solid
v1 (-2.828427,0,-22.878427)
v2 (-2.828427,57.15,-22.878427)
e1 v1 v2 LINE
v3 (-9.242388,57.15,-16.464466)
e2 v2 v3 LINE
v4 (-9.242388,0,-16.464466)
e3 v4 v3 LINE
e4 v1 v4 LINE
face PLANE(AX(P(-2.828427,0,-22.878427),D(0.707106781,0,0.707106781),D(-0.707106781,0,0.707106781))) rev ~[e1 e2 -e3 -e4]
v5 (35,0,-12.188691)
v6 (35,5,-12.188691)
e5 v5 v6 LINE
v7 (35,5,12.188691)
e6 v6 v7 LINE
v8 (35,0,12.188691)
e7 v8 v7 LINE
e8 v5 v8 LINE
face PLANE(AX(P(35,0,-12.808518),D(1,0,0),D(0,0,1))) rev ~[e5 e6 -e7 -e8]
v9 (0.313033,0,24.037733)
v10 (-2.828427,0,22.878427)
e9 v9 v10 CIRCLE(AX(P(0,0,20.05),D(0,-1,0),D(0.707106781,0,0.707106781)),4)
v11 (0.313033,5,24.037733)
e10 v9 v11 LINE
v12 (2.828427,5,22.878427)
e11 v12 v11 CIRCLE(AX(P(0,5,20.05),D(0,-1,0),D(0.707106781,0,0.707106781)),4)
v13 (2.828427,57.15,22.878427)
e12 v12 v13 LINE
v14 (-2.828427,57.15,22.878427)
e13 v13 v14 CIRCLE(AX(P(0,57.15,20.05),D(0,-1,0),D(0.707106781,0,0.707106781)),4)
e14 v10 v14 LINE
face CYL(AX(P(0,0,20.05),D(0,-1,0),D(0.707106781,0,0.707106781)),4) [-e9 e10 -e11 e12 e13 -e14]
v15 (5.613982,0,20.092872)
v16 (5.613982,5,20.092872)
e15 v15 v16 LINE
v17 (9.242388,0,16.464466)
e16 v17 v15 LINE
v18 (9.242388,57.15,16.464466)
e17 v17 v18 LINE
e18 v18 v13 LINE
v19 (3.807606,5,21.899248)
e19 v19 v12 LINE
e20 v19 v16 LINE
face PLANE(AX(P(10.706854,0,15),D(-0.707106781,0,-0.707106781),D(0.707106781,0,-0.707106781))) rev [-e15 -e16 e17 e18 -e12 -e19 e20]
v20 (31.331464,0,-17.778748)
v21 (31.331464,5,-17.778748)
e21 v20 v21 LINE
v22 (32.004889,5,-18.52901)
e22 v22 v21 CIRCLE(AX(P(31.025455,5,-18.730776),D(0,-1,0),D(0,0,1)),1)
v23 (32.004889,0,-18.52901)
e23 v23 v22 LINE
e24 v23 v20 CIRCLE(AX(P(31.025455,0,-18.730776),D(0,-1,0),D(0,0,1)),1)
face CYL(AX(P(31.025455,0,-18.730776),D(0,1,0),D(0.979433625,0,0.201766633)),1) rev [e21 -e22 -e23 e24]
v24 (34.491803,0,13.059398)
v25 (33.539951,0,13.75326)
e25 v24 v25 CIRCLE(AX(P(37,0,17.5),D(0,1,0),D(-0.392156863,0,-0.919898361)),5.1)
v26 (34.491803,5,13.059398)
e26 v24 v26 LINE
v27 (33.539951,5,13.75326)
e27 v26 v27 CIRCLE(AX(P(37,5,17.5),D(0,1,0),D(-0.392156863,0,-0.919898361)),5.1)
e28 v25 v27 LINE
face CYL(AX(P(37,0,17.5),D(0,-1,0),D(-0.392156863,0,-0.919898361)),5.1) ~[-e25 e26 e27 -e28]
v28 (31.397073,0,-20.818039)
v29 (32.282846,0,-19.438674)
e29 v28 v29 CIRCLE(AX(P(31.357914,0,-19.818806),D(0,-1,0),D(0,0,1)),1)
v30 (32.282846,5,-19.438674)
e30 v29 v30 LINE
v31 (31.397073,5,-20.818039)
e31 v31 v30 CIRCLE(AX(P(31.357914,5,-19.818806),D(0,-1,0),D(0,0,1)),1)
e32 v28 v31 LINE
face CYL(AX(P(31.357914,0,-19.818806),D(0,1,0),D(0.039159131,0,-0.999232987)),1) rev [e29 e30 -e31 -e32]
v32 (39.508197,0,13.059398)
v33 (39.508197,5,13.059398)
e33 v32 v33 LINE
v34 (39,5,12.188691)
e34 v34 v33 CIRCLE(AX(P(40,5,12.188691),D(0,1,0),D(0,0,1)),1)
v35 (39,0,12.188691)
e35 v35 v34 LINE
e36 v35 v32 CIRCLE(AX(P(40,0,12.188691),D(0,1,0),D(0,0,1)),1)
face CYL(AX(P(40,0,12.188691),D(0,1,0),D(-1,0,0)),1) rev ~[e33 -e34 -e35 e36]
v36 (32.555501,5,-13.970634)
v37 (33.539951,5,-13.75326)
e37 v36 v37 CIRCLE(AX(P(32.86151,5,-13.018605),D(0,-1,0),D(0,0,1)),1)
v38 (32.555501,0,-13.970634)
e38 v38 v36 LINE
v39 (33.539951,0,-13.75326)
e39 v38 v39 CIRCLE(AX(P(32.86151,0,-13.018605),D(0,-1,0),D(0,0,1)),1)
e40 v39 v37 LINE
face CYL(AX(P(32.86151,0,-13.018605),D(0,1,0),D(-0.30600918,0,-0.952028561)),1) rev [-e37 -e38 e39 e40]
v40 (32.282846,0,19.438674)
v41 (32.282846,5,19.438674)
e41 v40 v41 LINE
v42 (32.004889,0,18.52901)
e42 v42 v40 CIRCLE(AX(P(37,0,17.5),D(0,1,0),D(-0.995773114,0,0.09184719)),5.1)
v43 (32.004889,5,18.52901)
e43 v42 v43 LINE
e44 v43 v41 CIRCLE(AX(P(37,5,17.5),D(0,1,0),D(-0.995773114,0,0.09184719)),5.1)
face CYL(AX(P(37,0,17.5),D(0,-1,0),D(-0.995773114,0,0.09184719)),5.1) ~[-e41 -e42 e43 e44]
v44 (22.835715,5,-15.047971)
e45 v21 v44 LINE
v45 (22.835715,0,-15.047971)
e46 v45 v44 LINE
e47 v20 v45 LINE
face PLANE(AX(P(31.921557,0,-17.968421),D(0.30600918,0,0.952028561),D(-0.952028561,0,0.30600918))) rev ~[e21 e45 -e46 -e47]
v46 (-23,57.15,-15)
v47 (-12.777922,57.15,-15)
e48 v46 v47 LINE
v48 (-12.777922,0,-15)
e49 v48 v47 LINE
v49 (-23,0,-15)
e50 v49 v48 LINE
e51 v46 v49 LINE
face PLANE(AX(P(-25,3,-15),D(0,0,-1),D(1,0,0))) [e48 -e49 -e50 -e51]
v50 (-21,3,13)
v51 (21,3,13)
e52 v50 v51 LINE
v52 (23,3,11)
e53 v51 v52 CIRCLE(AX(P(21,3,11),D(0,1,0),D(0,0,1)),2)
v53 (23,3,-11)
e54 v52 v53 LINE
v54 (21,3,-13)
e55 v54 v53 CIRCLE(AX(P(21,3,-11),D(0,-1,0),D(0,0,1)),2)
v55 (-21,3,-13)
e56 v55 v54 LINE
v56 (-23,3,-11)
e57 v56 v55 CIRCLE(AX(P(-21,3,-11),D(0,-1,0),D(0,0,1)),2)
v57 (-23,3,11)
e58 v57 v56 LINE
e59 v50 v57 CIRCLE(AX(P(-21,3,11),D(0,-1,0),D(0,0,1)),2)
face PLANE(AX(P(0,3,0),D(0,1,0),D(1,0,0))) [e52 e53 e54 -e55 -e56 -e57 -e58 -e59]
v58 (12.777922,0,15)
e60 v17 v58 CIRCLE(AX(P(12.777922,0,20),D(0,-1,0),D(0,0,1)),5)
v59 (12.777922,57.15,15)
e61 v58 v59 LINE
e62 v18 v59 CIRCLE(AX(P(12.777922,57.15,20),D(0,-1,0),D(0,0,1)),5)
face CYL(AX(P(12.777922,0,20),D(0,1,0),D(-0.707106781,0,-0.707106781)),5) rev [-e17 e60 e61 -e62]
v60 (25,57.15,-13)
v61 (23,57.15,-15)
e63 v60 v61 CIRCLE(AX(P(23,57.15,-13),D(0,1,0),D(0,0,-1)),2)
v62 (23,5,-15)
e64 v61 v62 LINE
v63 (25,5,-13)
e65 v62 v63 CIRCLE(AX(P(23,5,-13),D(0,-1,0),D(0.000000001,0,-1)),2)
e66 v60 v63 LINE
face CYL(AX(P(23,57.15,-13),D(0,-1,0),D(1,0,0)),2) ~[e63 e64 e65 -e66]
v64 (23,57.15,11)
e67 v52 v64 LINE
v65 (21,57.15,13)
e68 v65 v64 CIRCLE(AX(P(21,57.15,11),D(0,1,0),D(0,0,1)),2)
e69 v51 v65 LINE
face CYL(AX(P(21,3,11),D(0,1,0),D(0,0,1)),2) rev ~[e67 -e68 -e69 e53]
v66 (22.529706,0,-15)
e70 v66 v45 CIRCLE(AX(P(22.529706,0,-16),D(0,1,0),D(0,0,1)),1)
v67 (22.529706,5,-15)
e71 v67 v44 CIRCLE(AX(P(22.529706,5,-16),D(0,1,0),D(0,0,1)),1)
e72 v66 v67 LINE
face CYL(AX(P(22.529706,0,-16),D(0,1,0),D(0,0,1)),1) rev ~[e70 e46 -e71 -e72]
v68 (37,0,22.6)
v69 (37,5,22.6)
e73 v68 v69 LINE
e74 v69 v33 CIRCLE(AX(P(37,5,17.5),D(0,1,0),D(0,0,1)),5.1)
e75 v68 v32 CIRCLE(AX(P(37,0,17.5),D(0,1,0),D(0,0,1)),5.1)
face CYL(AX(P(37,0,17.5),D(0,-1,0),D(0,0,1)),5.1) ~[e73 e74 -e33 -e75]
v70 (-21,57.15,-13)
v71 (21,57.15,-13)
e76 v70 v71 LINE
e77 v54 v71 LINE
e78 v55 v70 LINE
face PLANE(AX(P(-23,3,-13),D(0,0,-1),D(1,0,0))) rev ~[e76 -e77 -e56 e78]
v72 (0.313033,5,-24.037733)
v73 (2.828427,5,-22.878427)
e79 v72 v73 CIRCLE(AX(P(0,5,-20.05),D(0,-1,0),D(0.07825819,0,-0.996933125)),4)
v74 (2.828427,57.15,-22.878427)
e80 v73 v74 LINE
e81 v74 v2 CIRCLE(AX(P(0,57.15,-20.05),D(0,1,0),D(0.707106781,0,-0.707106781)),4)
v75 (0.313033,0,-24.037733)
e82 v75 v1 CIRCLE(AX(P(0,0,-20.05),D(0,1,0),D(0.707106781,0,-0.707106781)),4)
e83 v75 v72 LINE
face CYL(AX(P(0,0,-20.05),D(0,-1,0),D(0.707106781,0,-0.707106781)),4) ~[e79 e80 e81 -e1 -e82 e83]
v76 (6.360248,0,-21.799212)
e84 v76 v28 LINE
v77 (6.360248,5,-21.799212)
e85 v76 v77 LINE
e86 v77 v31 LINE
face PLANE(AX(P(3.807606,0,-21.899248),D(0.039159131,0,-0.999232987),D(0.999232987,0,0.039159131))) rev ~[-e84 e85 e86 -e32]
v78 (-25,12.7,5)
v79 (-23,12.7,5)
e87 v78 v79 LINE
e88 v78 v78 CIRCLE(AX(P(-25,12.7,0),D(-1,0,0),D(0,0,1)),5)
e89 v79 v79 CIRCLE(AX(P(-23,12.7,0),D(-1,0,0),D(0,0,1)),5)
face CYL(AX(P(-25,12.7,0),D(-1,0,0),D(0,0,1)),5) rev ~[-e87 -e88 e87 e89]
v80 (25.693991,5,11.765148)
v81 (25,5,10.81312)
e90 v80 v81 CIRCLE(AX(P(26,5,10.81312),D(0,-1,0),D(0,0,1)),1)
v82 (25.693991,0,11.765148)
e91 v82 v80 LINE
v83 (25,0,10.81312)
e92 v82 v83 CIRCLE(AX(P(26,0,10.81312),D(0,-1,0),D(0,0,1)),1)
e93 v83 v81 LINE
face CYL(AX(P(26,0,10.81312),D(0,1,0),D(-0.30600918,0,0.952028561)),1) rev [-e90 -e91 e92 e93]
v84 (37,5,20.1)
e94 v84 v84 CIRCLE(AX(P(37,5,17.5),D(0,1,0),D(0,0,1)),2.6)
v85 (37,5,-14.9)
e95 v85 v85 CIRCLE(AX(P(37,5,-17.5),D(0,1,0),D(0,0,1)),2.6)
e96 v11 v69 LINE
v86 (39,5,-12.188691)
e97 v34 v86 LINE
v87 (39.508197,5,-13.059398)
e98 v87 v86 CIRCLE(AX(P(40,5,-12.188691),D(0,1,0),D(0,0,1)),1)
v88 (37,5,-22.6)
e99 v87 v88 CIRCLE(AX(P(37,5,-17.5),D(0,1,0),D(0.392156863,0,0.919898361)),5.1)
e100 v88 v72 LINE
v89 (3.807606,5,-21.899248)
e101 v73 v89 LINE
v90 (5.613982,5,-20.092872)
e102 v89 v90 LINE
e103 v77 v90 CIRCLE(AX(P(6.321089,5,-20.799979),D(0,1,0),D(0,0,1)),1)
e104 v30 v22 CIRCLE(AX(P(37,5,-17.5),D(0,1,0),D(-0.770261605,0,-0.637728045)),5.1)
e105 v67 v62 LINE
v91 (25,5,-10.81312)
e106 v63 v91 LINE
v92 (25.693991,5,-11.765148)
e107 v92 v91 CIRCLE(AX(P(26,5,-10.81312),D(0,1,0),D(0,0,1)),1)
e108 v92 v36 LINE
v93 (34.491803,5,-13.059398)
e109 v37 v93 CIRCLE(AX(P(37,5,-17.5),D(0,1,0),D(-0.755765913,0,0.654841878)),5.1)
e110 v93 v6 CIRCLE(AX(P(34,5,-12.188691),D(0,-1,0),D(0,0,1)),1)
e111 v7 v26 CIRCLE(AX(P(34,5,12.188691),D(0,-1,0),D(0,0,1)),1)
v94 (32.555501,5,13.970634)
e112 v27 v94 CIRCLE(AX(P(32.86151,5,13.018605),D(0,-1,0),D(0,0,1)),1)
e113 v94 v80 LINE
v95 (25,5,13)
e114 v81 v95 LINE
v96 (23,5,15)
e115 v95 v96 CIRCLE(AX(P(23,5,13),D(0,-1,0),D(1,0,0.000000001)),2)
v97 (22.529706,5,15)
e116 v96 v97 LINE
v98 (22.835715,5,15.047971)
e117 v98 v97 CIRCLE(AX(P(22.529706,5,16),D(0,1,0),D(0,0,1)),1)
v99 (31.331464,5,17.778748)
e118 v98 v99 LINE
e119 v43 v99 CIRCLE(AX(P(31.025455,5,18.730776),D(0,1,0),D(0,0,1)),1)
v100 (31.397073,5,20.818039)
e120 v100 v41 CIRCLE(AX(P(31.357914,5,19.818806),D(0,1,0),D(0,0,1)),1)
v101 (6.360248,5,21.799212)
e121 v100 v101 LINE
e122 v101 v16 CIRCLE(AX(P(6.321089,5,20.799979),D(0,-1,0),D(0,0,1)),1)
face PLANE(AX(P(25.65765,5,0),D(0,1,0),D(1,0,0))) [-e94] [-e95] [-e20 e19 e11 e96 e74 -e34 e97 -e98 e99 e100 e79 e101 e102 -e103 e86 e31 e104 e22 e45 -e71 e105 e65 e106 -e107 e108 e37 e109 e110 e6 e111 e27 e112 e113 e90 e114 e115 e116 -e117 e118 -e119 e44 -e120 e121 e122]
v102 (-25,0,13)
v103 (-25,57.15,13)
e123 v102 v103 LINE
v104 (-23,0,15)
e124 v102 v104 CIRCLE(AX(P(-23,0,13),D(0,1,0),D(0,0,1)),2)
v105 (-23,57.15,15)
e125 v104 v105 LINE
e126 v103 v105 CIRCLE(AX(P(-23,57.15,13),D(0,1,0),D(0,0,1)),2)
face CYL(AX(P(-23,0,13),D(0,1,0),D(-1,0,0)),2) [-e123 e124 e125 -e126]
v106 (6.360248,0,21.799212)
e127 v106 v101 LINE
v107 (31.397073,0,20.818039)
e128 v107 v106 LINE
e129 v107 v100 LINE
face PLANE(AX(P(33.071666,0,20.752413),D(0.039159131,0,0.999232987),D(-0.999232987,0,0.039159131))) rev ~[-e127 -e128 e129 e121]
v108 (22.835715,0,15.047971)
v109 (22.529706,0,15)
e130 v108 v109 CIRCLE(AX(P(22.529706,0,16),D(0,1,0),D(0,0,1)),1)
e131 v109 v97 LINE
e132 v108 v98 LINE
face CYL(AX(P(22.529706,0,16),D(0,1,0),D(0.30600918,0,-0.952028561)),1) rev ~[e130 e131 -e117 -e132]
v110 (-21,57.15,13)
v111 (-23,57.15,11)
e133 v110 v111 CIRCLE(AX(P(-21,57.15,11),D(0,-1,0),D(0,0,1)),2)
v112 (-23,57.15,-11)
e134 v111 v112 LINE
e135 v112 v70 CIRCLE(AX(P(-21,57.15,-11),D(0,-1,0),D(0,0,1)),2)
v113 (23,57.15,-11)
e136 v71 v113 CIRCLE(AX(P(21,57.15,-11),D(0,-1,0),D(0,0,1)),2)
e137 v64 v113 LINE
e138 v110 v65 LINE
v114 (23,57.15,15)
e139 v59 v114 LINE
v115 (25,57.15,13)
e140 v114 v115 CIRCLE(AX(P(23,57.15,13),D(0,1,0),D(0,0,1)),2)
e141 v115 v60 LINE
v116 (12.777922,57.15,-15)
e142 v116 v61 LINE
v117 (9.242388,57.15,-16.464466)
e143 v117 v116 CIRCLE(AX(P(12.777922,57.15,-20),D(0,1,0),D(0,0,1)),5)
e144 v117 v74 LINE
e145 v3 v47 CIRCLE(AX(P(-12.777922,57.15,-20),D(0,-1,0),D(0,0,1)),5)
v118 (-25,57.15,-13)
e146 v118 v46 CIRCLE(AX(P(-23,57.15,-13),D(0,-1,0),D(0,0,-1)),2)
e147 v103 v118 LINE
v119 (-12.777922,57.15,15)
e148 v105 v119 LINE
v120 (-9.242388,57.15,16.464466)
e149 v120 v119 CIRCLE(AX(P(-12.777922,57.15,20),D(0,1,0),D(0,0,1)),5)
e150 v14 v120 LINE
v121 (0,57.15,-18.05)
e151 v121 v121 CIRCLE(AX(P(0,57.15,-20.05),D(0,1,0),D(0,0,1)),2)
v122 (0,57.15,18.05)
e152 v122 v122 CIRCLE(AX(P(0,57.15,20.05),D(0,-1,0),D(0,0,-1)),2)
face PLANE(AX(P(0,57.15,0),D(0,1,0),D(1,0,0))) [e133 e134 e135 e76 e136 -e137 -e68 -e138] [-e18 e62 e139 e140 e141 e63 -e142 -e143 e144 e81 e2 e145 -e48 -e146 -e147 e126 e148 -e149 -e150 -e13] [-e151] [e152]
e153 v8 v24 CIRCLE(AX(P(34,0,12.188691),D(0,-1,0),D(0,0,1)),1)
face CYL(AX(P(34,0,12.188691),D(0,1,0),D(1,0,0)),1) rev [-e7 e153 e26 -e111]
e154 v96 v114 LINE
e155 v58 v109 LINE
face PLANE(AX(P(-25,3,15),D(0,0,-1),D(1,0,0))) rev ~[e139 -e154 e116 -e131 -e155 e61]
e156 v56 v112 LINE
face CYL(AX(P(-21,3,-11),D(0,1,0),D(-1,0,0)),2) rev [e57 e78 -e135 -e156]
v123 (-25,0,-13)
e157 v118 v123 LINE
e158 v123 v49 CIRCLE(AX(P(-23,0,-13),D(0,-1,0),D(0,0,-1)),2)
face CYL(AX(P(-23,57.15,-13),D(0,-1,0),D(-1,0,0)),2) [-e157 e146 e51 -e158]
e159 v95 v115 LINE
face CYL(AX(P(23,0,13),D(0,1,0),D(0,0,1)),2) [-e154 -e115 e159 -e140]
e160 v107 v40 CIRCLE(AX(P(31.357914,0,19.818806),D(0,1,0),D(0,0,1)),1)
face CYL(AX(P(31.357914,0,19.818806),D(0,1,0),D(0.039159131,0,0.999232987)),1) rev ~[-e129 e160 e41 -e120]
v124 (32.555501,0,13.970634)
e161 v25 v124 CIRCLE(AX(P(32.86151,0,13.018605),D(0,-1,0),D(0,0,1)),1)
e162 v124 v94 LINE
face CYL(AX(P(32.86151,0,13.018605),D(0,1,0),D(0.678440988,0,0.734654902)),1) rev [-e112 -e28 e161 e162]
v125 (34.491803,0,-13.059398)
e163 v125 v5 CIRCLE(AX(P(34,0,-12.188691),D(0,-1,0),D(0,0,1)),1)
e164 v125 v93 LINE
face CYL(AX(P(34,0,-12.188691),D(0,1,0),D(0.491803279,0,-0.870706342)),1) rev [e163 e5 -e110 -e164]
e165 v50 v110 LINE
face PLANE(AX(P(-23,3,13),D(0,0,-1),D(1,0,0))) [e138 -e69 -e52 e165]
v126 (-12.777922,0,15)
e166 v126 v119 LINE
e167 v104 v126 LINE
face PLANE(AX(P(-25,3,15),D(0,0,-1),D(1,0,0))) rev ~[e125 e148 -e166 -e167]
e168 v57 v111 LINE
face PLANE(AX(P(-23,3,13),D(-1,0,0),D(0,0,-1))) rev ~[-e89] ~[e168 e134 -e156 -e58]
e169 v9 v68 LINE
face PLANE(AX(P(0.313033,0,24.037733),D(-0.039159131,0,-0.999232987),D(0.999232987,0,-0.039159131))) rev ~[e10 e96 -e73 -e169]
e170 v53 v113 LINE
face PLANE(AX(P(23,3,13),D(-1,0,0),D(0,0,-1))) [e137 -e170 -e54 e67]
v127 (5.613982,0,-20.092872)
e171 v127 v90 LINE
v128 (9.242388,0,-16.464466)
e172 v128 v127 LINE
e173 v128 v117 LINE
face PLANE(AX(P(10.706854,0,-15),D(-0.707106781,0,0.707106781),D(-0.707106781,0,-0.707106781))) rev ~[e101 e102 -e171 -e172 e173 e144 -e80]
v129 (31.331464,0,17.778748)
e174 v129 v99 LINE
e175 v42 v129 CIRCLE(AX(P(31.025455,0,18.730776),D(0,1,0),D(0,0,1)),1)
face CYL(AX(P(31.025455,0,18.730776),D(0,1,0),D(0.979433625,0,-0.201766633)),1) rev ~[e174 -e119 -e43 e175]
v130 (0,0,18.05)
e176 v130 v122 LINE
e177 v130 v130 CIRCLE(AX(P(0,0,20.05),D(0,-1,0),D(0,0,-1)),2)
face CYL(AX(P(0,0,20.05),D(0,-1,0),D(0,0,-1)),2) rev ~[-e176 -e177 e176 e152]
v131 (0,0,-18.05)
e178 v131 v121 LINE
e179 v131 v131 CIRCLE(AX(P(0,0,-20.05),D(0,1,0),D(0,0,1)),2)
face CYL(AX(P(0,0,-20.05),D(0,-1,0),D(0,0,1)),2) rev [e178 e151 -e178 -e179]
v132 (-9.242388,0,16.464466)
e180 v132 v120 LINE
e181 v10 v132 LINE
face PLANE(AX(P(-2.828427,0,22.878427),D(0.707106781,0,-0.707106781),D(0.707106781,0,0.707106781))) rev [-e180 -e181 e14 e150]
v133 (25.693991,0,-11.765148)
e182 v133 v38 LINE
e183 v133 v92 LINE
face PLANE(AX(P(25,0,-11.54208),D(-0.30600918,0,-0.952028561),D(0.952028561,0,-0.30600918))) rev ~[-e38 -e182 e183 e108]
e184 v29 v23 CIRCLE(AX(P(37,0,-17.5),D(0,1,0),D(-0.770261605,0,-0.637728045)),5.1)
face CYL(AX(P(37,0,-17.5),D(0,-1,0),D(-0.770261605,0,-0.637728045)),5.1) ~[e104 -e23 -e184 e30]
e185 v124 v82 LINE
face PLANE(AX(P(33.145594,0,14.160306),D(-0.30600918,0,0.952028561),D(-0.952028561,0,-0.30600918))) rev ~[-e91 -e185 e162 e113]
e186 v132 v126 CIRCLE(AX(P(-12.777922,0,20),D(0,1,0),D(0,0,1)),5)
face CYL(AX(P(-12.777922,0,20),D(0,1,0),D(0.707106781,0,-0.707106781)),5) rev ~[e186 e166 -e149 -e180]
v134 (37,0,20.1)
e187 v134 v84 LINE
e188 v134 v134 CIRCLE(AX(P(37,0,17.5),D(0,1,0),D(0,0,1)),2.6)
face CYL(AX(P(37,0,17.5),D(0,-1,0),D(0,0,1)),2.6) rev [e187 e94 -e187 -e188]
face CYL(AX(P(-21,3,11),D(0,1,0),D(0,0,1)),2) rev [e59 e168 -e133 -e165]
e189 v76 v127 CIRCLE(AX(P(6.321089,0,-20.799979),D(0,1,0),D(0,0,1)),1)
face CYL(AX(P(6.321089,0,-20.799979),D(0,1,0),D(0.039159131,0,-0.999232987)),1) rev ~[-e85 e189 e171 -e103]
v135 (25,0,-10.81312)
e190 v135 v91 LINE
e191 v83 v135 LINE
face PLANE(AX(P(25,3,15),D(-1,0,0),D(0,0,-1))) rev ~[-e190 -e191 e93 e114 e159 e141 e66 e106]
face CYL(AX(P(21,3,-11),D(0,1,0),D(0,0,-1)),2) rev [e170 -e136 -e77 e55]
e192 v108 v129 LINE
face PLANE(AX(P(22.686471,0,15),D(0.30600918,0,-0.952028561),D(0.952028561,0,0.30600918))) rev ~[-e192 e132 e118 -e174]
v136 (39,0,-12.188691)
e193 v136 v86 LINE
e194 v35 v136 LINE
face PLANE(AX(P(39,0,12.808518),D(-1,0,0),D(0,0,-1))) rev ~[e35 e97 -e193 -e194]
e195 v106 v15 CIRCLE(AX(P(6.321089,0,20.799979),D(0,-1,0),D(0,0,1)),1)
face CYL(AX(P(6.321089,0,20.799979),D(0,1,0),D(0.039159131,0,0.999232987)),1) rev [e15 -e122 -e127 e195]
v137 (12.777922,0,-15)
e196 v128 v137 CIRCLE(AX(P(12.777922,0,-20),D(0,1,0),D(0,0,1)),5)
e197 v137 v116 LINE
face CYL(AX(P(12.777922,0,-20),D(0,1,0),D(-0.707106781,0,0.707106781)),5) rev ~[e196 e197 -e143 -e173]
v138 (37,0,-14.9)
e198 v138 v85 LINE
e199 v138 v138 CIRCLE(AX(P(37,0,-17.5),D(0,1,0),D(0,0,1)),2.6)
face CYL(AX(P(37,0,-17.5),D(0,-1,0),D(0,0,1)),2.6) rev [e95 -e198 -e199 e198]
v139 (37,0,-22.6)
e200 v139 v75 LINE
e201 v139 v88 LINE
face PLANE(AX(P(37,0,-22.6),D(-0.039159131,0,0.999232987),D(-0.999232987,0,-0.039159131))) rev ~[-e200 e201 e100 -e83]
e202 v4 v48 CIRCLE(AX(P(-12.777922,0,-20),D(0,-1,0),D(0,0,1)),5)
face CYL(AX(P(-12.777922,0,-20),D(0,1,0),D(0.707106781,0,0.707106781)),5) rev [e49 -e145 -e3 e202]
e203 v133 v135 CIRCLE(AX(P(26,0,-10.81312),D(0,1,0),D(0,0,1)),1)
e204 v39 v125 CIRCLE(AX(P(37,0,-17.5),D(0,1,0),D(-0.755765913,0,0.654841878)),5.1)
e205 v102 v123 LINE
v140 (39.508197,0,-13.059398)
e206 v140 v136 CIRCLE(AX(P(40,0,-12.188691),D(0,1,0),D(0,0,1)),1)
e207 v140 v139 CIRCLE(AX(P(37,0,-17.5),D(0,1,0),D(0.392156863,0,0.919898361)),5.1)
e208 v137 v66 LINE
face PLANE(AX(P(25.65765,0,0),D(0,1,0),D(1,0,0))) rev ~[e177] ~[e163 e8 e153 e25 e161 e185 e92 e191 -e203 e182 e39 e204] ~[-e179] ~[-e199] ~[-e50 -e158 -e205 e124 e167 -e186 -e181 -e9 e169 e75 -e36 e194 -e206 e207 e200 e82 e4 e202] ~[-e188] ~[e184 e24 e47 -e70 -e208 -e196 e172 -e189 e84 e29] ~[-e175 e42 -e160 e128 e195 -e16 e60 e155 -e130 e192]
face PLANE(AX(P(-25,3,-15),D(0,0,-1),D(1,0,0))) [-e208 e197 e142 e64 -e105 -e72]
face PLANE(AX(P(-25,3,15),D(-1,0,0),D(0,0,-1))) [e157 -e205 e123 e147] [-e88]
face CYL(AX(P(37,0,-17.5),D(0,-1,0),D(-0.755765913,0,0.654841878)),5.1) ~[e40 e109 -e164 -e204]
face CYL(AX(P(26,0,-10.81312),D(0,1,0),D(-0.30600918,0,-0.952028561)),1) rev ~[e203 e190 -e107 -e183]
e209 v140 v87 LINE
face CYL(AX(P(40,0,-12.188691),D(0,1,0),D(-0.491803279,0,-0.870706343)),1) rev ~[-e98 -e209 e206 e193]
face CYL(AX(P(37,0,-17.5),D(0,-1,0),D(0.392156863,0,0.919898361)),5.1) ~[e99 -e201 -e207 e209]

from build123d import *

# Parameters (mm, degrees)
SKETCH1_W           = 50
SKETCH1_H           = 30
BOSS_EXTRUDE1_DEPTH = 3
SKETCH2_W           = 50
SKETCH2_H           = 30
SKETCH2_W_2         = 46
SKETCH2_H_2         = 26
BOSS_EXTRUDE2_DEPTH = 54.15
SKETCH3_R           = 2
BOSS_EXTRUDE3_DEPTH = 57.15
FILLET1_R           = 2
SKETCH4_R           = 5
CUT_EXTRUDE1_DEPTH  = 2
SKETCH5_R           = 2.6
BOSS_EXTRUDE4_DEPTH = 5
FILLET2_R           = 1
FILLET3_R           = 5


with BuildPart() as part:
    # Sketch1 → Boss-Extrude1 (new body)
    with BuildSketch(Plane(origin=(0, 0, 0), x_dir=(1, 0, 0), z_dir=(0, 1, 0))):
        Rectangle(SKETCH1_W, SKETCH1_H)
    extrude(amount=BOSS_EXTRUDE1_DEPTH)

    # Sketch2 → Boss-Extrude2 (add)
    with BuildSketch(Plane(origin=(0, 3, 0), x_dir=(1, 0, 0), z_dir=(0, 1, 0))):
        Rectangle(SKETCH2_W, SKETCH2_H)
        Rectangle(SKETCH2_W_2, SKETCH2_H_2, mode=Mode.SUBTRACT)
    extrude(amount=BOSS_EXTRUDE2_DEPTH)

    # Sketch3 → Boss-Extrude3 (add)
    with BuildSketch(Plane(origin=(0, 0, 0), x_dir=(1, 0, 0), z_dir=(0, 1, 0))):
        with BuildLine():
            ThreePointArc((2.828427125, 22.878427125), (0, 24.05), (-2.828427125, 22.878427125))
            Line((-2.828427125, 22.878427125), (-10.706854249, 15))
            Line((-10.706854249, 15), (10.706854249, 15))
            Line((10.706854249, 15), (2.828427125, 22.878427125))
        make_face()
        with Locations(Location((0, 20.05, 0), (0, 0, 270))):
            Circle(SKETCH3_R, mode=Mode.SUBTRACT)
    boss_extrude3 = extrude(amount=BOSS_EXTRUDE3_DEPTH)

    # Mirror1: Boss-Extrude3 across plane
    add(boss_extrude3.mirror(Plane.XY))

    # Fillet1
    fillet1_edges = [part.edges().sort_by_distance(p)[0] for p in [
        (23, 30.075, 13),
        (23, 30.075, -13),
        (-23, 30.075, -13),
        (-23, 30.075, 13),
        (25, 28.575, 15),
        (-25, 28.575, 15),
        (-25, 28.575, -15),
        (25, 28.575, -15),
    ]]
    fillet(fillet1_edges, radius=FILLET1_R)

    # Sketch4 → Cut-Extrude1 (cut)
    with BuildSketch(Plane.ZY.offset(25)):
        with Locations((0, 12.7)):
            Circle(SKETCH4_R)
    extrude(amount=-CUT_EXTRUDE1_DEPTH, mode=Mode.SUBTRACT)

    # Sketch5 → Boss-Extrude4 (add)
    with BuildSketch(Plane(origin=(0, 0, 0), x_dir=(1, 0, 0), z_dir=(0, 1, 0))):
        with BuildLine():
            Line((3.807606463, 21.899247787), (33.071665812, 20.752413028))
            ThreePointArc((33.071665812, 20.752413028), (32.286385501, 19.447264326), (31.921557121, 17.96842067))
            Line((31.921557121, 17.96842067), (22.686470591, 15))
            Line((22.686470591, 15), (23, 15))
            ThreePointArc((23, 15), (24.414213562, 14.414213562), (25, 13))
            Line((25, 13), (25, 11.542079833))
            Line((25, 11.542079833), (33.145593843, 14.160306425))
            ThreePointArc((33.145593843, 14.160306425), (33.99577787, 13.37875633), (35, 12.808518358))
            Line((35, 12.808518358), (35, -12.808518358))
            ThreePointArc((35, -12.808518358), (33.99577787, -13.37875633), (33.145593843, -14.160306425))
            Line((33.145593843, -14.160306425), (25, -11.542079833))
            Line((25, -11.542079833), (25, -13))
            ThreePointArc((25, -13), (24.414213562, -14.414213562), (23, -15))
            Line((23, -15), (22.686470591, -15))
            Line((22.686470591, -15), (31.921557121, -17.96842067))
            ThreePointArc((31.921557121, -17.96842067), (32.286385501, -19.447264326), (33.071665812, -20.752413028))
            Line((33.071665812, -20.752413028), (3.807606463, -21.899247787))
            Line((3.807606463, -21.899247787), (2.828427125, -22.878427125))
            ThreePointArc((2.828427125, -22.878427125), (1.674272914, -23.682741418), (0.31303276, -24.0377325))
            Line((0.31303276, -24.0377325), (37, -22.6))
            ThreePointArc((37, -22.6), (41.996826812, -18.520647741), (39, -12.808518358))
            Line((39, -12.808518358), (39, 12.808518358))
            ThreePointArc((39, 12.808518358), (41.996826812, 18.520647741), (37, 22.6))
            Line((37, 22.6), (0.31303276, 24.0377325))
            ThreePointArc((0.31303276, 24.0377325), (1.674272914, 23.682741418), (2.828427125, 22.878427125))
            Line((2.828427125, 22.878427125), (3.807606463, 21.899247787))
        make_face()
        with Locations(Location((37, 17.5, 0), (0, 0, 270))):
            Circle(SKETCH5_R, mode=Mode.SUBTRACT)
        with Locations(Location((37, -17.5, 0), (0, 0, 270))):
            Circle(SKETCH5_R, mode=Mode.SUBTRACT)
    extrude(amount=BOSS_EXTRUDE4_DEPTH)

    # Fillet2
    fillet2_edges = [part.edges().sort_by_distance(p)[0] for p in [
        (3.807606463, 2.5, -21.899247787),
        (33.071665812, 2.5, -20.752413028),
        (31.921557121, 2.5, -17.96842067),
        (22.686470591, 2.5, -15),
        (25, 2.5, -11.542079833),
        (33.145593843, 2.5, -14.160306425),
        (35, 2.5, -12.808518358),
        (35, 2.5, 12.808518358),
        (33.145593843, 2.5, 14.160306425),
        (25, 2.5, 11.542079833),
        (22.686470591, 2.5, 15),
        (31.921557121, 2.5, 17.96842067),
        (33.071665812, 2.5, 20.752413028),
        (3.807606463, 2.5, 21.899247787),
        (39, 2.5, 12.808518358),
        (39, 2.5, -12.808518358),
    ]]
    fillet(fillet2_edges, radius=FILLET2_R)

    # Fillet3
    fillet3_edges = [part.edges().sort_by_distance(p)[0] for p in [
        (10.706854249, 28.575, -15),
        (-10.706854249, 28.575, -15),
        (-10.706854249, 28.575, 15),
        (10.706854249, 28.575, 15),
    ]]
    fillet(fillet3_edges, radius=FILLET3_R)


solid = part.part
